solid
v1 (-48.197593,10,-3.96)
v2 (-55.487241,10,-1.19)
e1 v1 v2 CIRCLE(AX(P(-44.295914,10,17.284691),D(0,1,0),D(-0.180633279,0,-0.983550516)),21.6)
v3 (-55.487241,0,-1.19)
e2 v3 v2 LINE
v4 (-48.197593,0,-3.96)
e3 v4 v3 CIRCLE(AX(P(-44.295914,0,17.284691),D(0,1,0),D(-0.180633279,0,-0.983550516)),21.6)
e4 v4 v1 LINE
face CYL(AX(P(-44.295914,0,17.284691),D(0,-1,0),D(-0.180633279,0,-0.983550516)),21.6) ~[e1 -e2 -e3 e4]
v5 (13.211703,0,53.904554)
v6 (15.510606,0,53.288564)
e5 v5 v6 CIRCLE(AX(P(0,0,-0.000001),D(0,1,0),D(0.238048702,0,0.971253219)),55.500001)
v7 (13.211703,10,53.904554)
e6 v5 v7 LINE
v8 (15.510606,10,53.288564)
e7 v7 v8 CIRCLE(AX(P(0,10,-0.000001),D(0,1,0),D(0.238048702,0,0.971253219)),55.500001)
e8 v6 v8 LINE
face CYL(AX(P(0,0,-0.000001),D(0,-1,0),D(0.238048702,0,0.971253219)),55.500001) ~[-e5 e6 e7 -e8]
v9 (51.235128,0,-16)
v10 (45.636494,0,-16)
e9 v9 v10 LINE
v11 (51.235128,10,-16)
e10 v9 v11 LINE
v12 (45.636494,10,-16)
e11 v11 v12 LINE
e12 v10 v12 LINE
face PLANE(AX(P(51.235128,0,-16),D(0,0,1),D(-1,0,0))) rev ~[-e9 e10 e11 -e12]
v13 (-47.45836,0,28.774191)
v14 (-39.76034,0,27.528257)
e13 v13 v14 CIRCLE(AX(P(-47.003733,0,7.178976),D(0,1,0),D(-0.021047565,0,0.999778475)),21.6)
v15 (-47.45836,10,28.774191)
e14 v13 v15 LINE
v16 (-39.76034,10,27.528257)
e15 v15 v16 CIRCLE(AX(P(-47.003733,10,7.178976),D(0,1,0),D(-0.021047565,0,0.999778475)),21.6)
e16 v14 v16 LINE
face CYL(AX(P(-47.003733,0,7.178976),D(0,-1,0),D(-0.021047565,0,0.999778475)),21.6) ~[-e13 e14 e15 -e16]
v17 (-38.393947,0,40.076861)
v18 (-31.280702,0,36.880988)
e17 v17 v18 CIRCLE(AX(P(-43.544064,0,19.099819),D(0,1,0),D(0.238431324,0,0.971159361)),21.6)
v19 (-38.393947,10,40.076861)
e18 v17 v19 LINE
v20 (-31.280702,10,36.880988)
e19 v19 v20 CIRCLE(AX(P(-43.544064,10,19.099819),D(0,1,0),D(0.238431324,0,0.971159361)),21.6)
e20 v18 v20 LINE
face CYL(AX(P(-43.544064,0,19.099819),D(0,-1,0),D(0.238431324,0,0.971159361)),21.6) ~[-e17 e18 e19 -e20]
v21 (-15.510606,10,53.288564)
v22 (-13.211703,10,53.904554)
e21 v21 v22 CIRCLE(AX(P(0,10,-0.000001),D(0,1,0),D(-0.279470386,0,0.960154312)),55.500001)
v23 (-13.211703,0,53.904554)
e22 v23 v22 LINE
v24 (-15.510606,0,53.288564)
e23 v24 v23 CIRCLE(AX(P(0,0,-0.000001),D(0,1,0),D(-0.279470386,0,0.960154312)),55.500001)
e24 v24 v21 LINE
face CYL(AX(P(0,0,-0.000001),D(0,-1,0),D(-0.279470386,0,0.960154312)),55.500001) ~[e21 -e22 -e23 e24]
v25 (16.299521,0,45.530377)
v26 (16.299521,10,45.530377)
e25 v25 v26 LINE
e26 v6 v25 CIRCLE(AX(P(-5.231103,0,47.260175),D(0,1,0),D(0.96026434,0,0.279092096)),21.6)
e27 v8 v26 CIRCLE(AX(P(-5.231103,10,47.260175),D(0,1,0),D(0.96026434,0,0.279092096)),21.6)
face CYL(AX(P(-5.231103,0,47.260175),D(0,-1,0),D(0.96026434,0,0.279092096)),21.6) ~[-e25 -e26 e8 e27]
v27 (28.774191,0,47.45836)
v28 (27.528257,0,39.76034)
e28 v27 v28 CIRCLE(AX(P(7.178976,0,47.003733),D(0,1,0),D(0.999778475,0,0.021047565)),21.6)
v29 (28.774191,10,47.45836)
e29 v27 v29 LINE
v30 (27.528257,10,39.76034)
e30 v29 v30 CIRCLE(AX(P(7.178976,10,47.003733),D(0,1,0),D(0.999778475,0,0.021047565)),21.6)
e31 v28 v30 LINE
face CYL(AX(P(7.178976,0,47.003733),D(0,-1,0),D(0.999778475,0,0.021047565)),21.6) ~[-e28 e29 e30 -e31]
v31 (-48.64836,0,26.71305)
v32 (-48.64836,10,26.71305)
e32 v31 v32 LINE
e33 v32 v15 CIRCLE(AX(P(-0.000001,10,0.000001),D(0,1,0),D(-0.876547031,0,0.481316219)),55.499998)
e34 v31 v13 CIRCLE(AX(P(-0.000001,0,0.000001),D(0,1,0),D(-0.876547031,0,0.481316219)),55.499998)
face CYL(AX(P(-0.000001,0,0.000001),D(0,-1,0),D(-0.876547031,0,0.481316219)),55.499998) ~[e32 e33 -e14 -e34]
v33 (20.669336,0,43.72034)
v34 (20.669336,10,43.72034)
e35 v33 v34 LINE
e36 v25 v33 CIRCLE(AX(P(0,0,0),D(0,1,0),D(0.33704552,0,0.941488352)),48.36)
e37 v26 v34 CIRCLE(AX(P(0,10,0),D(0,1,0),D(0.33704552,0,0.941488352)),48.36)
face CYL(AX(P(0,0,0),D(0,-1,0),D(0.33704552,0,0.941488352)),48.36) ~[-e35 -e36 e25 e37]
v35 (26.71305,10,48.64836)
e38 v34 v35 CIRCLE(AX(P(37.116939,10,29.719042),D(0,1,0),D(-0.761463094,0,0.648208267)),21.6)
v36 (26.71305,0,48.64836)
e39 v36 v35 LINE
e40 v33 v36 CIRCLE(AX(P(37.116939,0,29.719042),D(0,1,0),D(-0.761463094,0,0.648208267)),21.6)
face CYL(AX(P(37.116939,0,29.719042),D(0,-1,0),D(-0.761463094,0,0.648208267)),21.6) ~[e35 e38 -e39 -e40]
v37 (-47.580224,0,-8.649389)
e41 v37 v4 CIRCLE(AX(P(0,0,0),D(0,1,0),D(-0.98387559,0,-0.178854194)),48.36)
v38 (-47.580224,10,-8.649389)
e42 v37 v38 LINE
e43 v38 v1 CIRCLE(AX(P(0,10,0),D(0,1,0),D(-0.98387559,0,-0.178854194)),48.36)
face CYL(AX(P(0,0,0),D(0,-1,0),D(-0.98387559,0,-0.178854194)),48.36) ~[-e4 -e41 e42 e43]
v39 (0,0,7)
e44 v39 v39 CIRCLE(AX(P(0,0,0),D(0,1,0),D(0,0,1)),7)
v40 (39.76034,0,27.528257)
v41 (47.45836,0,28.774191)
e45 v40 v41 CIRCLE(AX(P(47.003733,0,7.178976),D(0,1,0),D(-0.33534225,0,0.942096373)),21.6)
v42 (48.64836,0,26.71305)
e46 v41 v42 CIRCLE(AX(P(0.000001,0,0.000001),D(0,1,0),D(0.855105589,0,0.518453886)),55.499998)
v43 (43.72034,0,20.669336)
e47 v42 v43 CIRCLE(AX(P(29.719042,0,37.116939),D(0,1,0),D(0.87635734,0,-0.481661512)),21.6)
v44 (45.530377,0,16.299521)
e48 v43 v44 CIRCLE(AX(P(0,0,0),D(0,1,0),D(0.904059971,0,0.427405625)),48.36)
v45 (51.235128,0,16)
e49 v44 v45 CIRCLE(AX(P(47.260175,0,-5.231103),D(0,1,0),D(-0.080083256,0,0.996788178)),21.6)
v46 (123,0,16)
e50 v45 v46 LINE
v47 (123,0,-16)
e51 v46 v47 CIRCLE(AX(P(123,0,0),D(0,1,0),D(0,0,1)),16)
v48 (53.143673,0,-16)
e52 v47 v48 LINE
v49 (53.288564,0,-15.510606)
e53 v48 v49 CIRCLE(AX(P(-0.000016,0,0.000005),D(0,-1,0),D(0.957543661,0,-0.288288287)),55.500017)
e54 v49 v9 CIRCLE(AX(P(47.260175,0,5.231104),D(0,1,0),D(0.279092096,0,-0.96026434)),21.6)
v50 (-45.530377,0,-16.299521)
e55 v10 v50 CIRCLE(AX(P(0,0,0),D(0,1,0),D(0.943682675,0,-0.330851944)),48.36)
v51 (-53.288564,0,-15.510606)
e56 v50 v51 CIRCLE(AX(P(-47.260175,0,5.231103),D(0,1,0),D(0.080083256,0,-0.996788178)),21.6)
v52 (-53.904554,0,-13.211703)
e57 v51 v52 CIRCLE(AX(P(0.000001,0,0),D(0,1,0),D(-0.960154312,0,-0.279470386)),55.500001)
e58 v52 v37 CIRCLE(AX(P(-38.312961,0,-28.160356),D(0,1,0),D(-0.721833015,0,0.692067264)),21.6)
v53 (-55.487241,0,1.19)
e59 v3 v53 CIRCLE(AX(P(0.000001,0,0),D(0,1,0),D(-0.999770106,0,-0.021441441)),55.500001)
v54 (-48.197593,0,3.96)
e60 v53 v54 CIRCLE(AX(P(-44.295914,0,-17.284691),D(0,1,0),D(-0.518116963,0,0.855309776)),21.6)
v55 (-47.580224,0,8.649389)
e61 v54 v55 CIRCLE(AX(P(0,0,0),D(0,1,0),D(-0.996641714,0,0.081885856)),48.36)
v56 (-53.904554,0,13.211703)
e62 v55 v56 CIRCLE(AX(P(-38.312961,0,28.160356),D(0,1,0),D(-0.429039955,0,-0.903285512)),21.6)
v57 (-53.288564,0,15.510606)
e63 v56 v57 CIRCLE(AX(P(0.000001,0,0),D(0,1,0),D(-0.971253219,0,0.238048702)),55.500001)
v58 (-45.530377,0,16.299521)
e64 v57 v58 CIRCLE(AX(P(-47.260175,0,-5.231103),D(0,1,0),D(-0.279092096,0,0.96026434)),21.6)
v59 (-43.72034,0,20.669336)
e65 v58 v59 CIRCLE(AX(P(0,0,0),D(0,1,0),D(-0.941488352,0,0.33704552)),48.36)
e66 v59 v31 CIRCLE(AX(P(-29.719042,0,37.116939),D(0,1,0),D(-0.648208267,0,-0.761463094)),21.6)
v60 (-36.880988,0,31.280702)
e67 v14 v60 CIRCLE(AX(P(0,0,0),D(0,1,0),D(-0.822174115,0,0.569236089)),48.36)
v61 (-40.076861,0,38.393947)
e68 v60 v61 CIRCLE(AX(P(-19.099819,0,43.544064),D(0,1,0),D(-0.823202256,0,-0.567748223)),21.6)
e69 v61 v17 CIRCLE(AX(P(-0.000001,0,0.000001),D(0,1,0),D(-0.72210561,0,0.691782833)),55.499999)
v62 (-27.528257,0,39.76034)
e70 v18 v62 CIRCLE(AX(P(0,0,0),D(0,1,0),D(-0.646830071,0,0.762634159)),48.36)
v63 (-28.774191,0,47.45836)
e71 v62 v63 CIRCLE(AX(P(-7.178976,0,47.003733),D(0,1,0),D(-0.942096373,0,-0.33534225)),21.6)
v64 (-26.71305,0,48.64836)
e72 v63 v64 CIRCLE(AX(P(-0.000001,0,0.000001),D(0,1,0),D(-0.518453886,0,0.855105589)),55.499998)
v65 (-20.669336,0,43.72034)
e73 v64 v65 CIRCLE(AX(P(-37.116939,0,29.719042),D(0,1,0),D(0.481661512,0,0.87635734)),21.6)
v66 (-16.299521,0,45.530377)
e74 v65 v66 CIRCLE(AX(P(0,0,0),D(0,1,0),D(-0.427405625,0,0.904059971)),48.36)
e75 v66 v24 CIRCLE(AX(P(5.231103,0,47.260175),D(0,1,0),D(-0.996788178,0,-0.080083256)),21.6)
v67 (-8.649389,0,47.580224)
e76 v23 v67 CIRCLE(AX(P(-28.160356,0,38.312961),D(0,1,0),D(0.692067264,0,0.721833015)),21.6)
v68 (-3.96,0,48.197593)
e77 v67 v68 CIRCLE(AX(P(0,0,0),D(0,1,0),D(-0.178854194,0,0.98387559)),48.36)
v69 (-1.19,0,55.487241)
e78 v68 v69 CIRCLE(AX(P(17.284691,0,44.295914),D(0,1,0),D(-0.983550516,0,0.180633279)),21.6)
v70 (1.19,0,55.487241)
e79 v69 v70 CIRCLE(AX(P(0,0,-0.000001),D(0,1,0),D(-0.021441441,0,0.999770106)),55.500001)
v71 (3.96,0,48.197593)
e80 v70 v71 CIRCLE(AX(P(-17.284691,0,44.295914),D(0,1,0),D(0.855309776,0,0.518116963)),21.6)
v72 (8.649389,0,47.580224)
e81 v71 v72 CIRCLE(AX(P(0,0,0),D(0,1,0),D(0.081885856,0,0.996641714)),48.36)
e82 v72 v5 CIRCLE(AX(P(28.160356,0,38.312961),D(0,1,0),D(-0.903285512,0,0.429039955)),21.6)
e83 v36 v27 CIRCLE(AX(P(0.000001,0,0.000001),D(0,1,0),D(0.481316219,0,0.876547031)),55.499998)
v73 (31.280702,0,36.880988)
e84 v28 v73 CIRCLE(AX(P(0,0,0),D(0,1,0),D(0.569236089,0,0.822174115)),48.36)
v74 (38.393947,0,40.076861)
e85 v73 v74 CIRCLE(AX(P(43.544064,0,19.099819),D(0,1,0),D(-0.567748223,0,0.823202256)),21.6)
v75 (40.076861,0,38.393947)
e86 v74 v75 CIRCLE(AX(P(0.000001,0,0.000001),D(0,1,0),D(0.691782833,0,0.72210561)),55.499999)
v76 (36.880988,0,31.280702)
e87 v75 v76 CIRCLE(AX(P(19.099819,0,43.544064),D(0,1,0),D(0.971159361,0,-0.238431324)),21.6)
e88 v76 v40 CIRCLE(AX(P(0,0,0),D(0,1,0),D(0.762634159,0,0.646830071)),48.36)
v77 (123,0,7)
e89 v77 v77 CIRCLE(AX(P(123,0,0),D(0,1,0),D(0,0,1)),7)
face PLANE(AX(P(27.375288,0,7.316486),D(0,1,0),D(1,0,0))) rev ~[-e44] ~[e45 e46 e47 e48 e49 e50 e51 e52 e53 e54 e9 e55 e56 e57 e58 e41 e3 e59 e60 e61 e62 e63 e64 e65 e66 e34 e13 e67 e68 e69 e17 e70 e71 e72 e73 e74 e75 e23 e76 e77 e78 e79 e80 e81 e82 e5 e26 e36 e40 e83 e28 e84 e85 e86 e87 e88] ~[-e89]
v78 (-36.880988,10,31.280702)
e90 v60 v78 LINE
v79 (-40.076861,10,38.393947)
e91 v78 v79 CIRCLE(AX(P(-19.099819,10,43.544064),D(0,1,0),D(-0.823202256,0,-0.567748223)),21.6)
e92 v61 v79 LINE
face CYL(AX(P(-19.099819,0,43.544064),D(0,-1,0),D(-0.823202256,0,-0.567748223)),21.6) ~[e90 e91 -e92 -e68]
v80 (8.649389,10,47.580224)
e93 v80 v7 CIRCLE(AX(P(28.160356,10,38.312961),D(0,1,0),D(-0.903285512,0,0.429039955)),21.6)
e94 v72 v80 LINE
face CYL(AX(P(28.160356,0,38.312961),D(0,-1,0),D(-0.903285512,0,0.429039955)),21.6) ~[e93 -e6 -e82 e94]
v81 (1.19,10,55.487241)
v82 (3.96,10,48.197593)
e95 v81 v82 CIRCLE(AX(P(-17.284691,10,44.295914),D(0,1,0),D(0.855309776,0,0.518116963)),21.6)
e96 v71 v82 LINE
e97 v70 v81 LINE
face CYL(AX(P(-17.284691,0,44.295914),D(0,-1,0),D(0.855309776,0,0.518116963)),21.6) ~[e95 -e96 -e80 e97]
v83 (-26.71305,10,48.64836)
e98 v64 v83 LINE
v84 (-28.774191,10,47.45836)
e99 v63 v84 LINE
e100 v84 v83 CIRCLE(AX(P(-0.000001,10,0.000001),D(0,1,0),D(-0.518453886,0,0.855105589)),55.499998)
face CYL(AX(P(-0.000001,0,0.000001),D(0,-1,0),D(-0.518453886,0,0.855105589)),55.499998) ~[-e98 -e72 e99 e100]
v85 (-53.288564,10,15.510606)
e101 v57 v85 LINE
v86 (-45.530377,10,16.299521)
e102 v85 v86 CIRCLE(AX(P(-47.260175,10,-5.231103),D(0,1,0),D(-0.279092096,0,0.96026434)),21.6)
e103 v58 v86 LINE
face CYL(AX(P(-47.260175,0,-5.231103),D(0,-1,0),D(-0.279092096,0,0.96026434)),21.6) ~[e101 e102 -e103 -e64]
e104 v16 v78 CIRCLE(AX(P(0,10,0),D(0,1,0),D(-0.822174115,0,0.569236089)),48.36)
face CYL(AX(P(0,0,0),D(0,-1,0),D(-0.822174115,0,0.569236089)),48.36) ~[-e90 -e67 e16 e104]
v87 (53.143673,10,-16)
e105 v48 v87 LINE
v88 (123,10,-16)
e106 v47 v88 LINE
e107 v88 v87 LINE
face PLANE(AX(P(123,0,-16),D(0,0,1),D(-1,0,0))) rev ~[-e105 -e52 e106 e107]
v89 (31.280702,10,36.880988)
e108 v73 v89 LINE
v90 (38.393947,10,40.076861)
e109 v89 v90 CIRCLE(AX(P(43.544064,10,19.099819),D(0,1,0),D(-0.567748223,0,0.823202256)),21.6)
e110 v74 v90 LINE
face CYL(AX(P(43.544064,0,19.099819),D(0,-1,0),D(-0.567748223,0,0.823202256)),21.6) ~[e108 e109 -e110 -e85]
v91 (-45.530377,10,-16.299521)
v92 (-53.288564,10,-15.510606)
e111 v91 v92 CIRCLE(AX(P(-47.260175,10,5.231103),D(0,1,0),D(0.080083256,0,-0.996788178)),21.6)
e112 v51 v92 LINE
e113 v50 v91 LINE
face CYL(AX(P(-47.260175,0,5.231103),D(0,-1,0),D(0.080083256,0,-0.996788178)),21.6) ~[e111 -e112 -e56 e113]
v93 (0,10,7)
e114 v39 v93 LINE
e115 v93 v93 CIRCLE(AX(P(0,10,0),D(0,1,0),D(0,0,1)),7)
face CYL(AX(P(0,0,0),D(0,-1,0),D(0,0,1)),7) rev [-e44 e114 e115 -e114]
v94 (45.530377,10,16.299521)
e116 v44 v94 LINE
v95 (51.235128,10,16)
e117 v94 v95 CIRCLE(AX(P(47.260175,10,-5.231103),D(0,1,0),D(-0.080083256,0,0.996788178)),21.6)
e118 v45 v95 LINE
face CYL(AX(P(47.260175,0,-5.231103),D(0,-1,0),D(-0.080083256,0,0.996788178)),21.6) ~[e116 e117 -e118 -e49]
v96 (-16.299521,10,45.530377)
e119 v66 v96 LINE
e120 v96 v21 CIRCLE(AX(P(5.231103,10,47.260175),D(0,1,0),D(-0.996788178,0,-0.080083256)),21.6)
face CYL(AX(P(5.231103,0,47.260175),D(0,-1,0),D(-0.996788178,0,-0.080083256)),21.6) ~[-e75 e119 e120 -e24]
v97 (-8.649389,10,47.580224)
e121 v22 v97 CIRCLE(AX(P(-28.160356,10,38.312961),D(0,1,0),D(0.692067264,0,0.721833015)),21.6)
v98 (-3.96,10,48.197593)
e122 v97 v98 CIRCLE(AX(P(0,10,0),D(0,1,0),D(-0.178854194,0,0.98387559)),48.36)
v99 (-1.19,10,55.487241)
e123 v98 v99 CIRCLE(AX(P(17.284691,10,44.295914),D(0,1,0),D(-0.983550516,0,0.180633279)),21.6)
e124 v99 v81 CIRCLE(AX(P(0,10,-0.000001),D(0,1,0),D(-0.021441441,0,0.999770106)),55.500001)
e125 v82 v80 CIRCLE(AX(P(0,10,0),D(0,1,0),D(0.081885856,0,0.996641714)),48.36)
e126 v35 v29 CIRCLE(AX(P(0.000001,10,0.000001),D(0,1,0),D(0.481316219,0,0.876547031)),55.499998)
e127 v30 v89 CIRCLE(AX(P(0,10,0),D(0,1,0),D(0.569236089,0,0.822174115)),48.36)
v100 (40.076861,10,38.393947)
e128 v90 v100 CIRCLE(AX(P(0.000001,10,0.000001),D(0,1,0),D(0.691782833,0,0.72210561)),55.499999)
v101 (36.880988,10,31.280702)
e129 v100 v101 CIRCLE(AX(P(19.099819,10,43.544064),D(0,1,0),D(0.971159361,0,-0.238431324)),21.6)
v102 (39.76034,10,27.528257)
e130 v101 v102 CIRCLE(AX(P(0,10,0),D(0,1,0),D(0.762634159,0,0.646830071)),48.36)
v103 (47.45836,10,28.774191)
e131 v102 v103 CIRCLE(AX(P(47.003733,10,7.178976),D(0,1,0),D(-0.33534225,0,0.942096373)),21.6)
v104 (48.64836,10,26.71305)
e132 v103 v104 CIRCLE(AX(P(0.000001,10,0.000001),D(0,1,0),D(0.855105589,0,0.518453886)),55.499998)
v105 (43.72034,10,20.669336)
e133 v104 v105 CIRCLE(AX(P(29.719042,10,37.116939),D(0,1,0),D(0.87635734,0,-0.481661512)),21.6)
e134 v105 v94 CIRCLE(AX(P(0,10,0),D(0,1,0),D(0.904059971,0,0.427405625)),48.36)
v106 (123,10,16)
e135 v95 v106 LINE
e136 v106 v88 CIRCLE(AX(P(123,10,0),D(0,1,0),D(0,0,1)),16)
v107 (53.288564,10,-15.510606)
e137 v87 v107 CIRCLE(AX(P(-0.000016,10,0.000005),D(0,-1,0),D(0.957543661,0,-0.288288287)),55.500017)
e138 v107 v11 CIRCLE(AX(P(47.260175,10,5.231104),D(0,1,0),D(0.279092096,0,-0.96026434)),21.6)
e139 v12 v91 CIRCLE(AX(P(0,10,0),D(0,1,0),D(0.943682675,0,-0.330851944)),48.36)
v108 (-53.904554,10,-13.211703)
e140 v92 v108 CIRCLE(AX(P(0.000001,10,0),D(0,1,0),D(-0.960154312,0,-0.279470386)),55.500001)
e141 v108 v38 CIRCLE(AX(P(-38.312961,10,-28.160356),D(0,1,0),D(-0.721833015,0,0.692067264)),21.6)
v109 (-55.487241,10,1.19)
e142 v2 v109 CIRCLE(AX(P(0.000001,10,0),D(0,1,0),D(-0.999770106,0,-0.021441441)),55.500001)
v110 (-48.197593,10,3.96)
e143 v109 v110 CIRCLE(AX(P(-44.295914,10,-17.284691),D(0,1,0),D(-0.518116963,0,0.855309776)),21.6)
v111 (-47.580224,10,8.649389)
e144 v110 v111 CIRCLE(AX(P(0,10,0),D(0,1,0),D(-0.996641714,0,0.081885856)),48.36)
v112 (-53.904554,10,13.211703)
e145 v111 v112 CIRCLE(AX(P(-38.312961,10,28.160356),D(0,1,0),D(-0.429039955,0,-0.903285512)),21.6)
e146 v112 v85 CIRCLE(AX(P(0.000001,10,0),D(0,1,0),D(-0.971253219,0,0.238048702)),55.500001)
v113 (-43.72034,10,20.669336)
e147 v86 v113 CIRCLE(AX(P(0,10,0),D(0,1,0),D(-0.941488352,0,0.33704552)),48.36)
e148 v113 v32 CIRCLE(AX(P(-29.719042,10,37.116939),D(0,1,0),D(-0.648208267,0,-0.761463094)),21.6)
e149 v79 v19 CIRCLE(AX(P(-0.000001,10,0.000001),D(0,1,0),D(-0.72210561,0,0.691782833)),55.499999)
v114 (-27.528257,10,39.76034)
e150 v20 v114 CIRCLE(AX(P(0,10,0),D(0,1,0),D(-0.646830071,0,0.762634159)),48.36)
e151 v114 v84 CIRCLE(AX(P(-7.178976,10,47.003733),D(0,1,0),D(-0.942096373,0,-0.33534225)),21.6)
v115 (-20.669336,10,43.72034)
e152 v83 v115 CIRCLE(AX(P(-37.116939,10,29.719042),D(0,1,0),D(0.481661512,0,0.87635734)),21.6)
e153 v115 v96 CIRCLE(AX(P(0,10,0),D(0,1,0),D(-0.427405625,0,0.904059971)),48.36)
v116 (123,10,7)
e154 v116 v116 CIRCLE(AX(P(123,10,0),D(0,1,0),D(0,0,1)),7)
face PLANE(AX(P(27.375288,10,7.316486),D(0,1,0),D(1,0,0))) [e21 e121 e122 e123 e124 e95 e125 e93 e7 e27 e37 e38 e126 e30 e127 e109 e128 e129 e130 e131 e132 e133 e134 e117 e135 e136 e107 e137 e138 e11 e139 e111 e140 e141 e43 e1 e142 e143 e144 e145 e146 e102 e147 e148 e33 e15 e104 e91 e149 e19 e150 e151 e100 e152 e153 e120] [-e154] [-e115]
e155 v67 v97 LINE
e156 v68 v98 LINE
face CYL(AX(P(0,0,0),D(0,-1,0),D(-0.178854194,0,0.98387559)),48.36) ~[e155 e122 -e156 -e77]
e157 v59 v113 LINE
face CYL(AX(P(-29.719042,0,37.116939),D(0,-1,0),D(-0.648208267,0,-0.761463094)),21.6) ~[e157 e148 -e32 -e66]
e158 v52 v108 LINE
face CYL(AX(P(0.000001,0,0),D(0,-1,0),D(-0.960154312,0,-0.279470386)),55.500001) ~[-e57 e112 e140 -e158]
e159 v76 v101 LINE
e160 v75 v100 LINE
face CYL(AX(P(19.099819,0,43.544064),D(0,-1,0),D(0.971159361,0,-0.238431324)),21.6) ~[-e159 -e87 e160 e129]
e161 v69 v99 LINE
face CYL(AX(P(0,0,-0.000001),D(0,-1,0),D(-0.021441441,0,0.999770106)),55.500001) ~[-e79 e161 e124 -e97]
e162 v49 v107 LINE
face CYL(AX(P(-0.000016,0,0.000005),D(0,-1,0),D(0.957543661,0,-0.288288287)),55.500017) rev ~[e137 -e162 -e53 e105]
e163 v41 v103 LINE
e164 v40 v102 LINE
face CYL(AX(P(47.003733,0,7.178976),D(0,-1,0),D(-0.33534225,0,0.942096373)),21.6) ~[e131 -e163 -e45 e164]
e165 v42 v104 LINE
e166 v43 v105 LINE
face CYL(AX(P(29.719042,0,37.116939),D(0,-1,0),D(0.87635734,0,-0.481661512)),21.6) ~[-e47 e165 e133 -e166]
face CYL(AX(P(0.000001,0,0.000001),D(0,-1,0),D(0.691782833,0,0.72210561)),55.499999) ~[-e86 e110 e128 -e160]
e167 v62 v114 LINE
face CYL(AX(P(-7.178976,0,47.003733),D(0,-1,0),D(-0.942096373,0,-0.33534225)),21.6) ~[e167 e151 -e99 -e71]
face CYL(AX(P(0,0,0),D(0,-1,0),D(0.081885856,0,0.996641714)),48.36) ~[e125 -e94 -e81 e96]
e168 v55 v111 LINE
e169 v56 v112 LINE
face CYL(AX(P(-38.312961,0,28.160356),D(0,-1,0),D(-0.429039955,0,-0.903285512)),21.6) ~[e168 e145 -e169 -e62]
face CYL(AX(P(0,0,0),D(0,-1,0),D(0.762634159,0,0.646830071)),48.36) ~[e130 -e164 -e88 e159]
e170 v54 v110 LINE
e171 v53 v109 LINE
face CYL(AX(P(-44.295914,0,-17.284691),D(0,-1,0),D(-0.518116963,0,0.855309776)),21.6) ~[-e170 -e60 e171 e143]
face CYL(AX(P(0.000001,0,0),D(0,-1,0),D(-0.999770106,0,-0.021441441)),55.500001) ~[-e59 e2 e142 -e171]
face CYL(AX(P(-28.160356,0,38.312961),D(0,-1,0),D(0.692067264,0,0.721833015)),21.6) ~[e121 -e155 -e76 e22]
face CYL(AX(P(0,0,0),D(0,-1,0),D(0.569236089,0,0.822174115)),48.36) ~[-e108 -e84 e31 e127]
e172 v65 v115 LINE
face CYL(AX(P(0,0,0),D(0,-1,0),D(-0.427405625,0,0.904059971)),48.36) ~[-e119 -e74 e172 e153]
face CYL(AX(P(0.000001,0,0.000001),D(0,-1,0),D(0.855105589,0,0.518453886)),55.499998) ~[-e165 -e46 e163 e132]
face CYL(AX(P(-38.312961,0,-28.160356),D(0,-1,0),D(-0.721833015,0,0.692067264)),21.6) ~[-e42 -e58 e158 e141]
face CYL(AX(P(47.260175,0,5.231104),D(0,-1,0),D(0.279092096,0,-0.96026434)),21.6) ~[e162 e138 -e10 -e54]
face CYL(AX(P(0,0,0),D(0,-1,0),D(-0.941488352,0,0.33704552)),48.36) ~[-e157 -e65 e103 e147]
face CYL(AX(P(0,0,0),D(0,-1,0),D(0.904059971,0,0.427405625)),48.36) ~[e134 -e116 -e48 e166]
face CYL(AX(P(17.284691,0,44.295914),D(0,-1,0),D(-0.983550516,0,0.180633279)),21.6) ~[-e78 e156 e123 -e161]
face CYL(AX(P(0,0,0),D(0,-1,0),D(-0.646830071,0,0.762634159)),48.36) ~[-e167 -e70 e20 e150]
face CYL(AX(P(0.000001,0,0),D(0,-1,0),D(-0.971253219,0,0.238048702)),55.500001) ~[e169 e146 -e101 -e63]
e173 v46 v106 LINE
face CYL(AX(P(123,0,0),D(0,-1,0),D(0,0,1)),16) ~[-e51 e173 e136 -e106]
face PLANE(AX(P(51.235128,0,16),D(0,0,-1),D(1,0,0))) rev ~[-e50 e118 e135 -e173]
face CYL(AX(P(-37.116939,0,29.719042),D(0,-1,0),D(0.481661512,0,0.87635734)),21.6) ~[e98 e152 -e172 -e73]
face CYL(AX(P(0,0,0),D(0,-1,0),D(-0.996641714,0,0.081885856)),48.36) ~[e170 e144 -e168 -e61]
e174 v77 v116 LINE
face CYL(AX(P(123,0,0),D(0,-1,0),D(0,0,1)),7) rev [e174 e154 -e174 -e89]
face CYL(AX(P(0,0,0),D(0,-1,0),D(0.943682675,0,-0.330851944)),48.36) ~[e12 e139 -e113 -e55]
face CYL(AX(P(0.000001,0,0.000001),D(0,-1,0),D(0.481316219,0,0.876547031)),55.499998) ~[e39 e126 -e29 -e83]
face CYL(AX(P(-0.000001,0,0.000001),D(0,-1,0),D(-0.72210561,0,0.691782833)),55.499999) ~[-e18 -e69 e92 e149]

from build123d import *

# Parameters (mm, degrees)
SKETCH_1_R      = 7
EXTRUDE_2_DEPTH = 10


with BuildPart() as part:
    # 草图1 → 凸台-拉伸2 (new body)
    with BuildSketch(Plane(origin=(0, 0, 0), x_dir=(1, 0, 0), z_dir=(0, 1, 0))):
        with BuildLine():
            Line((51.235128203, 16), (45.636494169, 16))
            ThreePointArc((45.636494169, 16), (0.158881993, 48.359739004), (-45.530376716, 16.299521346))
            ThreePointArc((-45.530376716, 16.299521346), (-49.445367881, 16.258078448), (-53.288564328, 15.510606432))
            ThreePointArc((-53.288564328, 15.510606432), (-53.608883359, 14.364457003), (-53.904553655, 13.211702966))
            ThreePointArc((-53.904553655, 13.211702966), (-50.949983909, 10.642774988), (-47.580223553, 8.649388802))
            ThreePointArc((-47.580223553, 8.649388802), (-47.946273496, 6.312246656), (-48.197593301, 3.96))
            ThreePointArc((-48.197593301, 3.96), (-51.968458166, 2.906694959), (-55.487240876, 1.19))
            ThreePointArc((-55.487240876, 1.19), (-55.5, 0), (-55.487240876, -1.19))
            ThreePointArc((-55.487240876, -1.19), (-51.968458166, -2.906694959), (-48.197593301, -3.96))
            ThreePointArc((-48.197593301, -3.96), (-47.946273496, -6.312246656), (-47.580223553, -8.649388802))
            ThreePointArc((-47.580223553, -8.649388802), (-50.949983909, -10.642774988), (-53.904553655, -13.211702966))
            ThreePointArc((-53.904553655, -13.211702966), (-53.608883359, -14.364457003), (-53.288564328, -15.510606432))
            ThreePointArc((-53.288564328, -15.510606432), (-49.445367881, -16.258078448), (-45.530376716, -16.299521346))
            ThreePointArc((-45.530376716, -16.299521346), (-44.678814192, -18.506570789), (-43.7203402, -20.669336051))
            ThreePointArc((-43.7203402, -20.669336051), (-46.459352447, -23.466957407), (-48.648360184, -26.713050207))
            ThreePointArc((-48.648360184, -26.713050207), (-48.06440991, -27.75), (-47.458360184, -28.774190668))
            ThreePointArc((-47.458360184, -28.774190668), (-43.552657488, -28.501500759), (-39.7603402, -27.528257249))
            ThreePointArc((-39.7603402, -27.528257249), (-38.366567536, -29.439702707), (-36.880987913, -31.280702206))
            ThreePointArc((-36.880987913, -31.280702206), (-38.802592894, -34.691905461), (-40.076861362, -38.393947223))
            ThreePointArc((-40.076861362, -38.393947223), (-39.244426356, -39.244426356), (-38.393947223, -40.076861362))
            ThreePointArc((-38.393947223, -40.076861362), (-34.691905461, -38.802592894), (-31.280702206, -36.880987913))
            ThreePointArc((-31.280702206, -36.880987913), (-29.439702707, -38.366567536), (-27.528257249, -39.7603402))
            ThreePointArc((-27.528257249, -39.7603402), (-28.501500759, -43.552657488), (-28.774190668, -47.458360184))
            ThreePointArc((-28.774190668, -47.458360184), (-27.75, -48.06440991), (-26.713050207, -48.648360184))
            ThreePointArc((-26.713050207, -48.648360184), (-23.466957407, -46.459352447), (-20.669336051, -43.7203402))
            ThreePointArc((-20.669336051, -43.7203402), (-18.506570789, -44.678814192), (-16.299521346, -45.530376716))
            ThreePointArc((-16.299521346, -45.530376716), (-16.258078448, -49.445367881), (-15.510606432, -53.288564328))
            ThreePointArc((-15.510606432, -53.288564328), (-14.364457003, -53.608883359), (-13.211702966, -53.904553655))
            ThreePointArc((-13.211702966, -53.904553655), (-10.642774988, -50.949983909), (-8.649388802, -47.580223553))
            ThreePointArc((-8.649388802, -47.580223553), (-6.312246656, -47.946273496), (-3.96, -48.197593301))
            ThreePointArc((-3.96, -48.197593301), (-2.906694959, -51.968458166), (-1.19, -55.487240876))
            ThreePointArc((-1.19, -55.487240876), (0, -55.5), (1.19, -55.487240876))
            ThreePointArc((1.19, -55.487240876), (2.906694959, -51.968458166), (3.96, -48.197593301))
            ThreePointArc((3.96, -48.197593301), (6.312246656, -47.946273496), (8.649388802, -47.580223553))
            ThreePointArc((8.649388802, -47.580223553), (10.642774988, -50.949983909), (13.211702966, -53.904553655))
            ThreePointArc((13.211702966, -53.904553655), (14.364457003, -53.608883359), (15.510606432, -53.288564328))
            ThreePointArc((15.510606432, -53.288564328), (16.258078448, -49.445367881), (16.299521346, -45.530376716))
            ThreePointArc((16.299521346, -45.530376716), (18.506570789, -44.678814192), (20.669336051, -43.7203402))
            ThreePointArc((20.669336051, -43.7203402), (23.466957407, -46.459352447), (26.713050207, -48.648360184))
            ThreePointArc((26.713050207, -48.648360184), (27.75, -48.06440991), (28.774190668, -47.458360184))
            ThreePointArc((28.774190668, -47.458360184), (28.501500759, -43.552657488), (27.528257249, -39.7603402))
            ThreePointArc((27.528257249, -39.7603402), (29.439702707, -38.366567536), (31.280702206, -36.880987913))
            ThreePointArc((31.280702206, -36.880987913), (34.691905461, -38.802592894), (38.393947223, -40.076861362))
            ThreePointArc((38.393947223, -40.076861362), (39.244426356, -39.244426356), (40.076861362, -38.393947223))
            ThreePointArc((40.076861362, -38.393947223), (38.802592894, -34.691905461), (36.880987913, -31.280702206))
            ThreePointArc((36.880987913, -31.280702206), (38.366567536, -29.439702707), (39.7603402, -27.528257249))
            ThreePointArc((39.7603402, -27.528257249), (43.552657488, -28.501500759), (47.458360184, -28.774190668))
            ThreePointArc((47.458360184, -28.774190668), (48.06440991, -27.75), (48.648360184, -26.713050207))
            ThreePointArc((48.648360184, -26.713050207), (46.459352447, -23.466957407), (43.7203402, -20.669336051))
            ThreePointArc((43.7203402, -20.669336051), (44.678814192, -18.506570789), (45.530376716, -16.299521346))
            ThreePointArc((45.530376716, -16.299521346), (48.39269803, -16.339186258), (51.235128203, -16))
            Line((51.235128203, -16), (123, -16))
            ThreePointArc((123, -16), (139, 0), (123, 16))
            Line((123, 16), (53.143673189, 16))
            ThreePointArc((53.143673189, 16), (53.216681334, 15.755469774), (53.288564328, 15.510606432))
            ThreePointArc((53.288564328, 15.510606432), (52.267828339, 15.780403272), (51.235128203, 16))
        make_face()
        with Locations(Location((0, 0, 0), (0, 0, 270))):
            Circle(SKETCH_1_R, mode=Mode.SUBTRACT)
        with Locations(Location((123, 0, 0), (0, 0, 270))):
            Circle(SKETCH_1_R, mode=Mode.SUBTRACT)
    extrude(amount=EXTRUDE_2_DEPTH)


solid = part.part
